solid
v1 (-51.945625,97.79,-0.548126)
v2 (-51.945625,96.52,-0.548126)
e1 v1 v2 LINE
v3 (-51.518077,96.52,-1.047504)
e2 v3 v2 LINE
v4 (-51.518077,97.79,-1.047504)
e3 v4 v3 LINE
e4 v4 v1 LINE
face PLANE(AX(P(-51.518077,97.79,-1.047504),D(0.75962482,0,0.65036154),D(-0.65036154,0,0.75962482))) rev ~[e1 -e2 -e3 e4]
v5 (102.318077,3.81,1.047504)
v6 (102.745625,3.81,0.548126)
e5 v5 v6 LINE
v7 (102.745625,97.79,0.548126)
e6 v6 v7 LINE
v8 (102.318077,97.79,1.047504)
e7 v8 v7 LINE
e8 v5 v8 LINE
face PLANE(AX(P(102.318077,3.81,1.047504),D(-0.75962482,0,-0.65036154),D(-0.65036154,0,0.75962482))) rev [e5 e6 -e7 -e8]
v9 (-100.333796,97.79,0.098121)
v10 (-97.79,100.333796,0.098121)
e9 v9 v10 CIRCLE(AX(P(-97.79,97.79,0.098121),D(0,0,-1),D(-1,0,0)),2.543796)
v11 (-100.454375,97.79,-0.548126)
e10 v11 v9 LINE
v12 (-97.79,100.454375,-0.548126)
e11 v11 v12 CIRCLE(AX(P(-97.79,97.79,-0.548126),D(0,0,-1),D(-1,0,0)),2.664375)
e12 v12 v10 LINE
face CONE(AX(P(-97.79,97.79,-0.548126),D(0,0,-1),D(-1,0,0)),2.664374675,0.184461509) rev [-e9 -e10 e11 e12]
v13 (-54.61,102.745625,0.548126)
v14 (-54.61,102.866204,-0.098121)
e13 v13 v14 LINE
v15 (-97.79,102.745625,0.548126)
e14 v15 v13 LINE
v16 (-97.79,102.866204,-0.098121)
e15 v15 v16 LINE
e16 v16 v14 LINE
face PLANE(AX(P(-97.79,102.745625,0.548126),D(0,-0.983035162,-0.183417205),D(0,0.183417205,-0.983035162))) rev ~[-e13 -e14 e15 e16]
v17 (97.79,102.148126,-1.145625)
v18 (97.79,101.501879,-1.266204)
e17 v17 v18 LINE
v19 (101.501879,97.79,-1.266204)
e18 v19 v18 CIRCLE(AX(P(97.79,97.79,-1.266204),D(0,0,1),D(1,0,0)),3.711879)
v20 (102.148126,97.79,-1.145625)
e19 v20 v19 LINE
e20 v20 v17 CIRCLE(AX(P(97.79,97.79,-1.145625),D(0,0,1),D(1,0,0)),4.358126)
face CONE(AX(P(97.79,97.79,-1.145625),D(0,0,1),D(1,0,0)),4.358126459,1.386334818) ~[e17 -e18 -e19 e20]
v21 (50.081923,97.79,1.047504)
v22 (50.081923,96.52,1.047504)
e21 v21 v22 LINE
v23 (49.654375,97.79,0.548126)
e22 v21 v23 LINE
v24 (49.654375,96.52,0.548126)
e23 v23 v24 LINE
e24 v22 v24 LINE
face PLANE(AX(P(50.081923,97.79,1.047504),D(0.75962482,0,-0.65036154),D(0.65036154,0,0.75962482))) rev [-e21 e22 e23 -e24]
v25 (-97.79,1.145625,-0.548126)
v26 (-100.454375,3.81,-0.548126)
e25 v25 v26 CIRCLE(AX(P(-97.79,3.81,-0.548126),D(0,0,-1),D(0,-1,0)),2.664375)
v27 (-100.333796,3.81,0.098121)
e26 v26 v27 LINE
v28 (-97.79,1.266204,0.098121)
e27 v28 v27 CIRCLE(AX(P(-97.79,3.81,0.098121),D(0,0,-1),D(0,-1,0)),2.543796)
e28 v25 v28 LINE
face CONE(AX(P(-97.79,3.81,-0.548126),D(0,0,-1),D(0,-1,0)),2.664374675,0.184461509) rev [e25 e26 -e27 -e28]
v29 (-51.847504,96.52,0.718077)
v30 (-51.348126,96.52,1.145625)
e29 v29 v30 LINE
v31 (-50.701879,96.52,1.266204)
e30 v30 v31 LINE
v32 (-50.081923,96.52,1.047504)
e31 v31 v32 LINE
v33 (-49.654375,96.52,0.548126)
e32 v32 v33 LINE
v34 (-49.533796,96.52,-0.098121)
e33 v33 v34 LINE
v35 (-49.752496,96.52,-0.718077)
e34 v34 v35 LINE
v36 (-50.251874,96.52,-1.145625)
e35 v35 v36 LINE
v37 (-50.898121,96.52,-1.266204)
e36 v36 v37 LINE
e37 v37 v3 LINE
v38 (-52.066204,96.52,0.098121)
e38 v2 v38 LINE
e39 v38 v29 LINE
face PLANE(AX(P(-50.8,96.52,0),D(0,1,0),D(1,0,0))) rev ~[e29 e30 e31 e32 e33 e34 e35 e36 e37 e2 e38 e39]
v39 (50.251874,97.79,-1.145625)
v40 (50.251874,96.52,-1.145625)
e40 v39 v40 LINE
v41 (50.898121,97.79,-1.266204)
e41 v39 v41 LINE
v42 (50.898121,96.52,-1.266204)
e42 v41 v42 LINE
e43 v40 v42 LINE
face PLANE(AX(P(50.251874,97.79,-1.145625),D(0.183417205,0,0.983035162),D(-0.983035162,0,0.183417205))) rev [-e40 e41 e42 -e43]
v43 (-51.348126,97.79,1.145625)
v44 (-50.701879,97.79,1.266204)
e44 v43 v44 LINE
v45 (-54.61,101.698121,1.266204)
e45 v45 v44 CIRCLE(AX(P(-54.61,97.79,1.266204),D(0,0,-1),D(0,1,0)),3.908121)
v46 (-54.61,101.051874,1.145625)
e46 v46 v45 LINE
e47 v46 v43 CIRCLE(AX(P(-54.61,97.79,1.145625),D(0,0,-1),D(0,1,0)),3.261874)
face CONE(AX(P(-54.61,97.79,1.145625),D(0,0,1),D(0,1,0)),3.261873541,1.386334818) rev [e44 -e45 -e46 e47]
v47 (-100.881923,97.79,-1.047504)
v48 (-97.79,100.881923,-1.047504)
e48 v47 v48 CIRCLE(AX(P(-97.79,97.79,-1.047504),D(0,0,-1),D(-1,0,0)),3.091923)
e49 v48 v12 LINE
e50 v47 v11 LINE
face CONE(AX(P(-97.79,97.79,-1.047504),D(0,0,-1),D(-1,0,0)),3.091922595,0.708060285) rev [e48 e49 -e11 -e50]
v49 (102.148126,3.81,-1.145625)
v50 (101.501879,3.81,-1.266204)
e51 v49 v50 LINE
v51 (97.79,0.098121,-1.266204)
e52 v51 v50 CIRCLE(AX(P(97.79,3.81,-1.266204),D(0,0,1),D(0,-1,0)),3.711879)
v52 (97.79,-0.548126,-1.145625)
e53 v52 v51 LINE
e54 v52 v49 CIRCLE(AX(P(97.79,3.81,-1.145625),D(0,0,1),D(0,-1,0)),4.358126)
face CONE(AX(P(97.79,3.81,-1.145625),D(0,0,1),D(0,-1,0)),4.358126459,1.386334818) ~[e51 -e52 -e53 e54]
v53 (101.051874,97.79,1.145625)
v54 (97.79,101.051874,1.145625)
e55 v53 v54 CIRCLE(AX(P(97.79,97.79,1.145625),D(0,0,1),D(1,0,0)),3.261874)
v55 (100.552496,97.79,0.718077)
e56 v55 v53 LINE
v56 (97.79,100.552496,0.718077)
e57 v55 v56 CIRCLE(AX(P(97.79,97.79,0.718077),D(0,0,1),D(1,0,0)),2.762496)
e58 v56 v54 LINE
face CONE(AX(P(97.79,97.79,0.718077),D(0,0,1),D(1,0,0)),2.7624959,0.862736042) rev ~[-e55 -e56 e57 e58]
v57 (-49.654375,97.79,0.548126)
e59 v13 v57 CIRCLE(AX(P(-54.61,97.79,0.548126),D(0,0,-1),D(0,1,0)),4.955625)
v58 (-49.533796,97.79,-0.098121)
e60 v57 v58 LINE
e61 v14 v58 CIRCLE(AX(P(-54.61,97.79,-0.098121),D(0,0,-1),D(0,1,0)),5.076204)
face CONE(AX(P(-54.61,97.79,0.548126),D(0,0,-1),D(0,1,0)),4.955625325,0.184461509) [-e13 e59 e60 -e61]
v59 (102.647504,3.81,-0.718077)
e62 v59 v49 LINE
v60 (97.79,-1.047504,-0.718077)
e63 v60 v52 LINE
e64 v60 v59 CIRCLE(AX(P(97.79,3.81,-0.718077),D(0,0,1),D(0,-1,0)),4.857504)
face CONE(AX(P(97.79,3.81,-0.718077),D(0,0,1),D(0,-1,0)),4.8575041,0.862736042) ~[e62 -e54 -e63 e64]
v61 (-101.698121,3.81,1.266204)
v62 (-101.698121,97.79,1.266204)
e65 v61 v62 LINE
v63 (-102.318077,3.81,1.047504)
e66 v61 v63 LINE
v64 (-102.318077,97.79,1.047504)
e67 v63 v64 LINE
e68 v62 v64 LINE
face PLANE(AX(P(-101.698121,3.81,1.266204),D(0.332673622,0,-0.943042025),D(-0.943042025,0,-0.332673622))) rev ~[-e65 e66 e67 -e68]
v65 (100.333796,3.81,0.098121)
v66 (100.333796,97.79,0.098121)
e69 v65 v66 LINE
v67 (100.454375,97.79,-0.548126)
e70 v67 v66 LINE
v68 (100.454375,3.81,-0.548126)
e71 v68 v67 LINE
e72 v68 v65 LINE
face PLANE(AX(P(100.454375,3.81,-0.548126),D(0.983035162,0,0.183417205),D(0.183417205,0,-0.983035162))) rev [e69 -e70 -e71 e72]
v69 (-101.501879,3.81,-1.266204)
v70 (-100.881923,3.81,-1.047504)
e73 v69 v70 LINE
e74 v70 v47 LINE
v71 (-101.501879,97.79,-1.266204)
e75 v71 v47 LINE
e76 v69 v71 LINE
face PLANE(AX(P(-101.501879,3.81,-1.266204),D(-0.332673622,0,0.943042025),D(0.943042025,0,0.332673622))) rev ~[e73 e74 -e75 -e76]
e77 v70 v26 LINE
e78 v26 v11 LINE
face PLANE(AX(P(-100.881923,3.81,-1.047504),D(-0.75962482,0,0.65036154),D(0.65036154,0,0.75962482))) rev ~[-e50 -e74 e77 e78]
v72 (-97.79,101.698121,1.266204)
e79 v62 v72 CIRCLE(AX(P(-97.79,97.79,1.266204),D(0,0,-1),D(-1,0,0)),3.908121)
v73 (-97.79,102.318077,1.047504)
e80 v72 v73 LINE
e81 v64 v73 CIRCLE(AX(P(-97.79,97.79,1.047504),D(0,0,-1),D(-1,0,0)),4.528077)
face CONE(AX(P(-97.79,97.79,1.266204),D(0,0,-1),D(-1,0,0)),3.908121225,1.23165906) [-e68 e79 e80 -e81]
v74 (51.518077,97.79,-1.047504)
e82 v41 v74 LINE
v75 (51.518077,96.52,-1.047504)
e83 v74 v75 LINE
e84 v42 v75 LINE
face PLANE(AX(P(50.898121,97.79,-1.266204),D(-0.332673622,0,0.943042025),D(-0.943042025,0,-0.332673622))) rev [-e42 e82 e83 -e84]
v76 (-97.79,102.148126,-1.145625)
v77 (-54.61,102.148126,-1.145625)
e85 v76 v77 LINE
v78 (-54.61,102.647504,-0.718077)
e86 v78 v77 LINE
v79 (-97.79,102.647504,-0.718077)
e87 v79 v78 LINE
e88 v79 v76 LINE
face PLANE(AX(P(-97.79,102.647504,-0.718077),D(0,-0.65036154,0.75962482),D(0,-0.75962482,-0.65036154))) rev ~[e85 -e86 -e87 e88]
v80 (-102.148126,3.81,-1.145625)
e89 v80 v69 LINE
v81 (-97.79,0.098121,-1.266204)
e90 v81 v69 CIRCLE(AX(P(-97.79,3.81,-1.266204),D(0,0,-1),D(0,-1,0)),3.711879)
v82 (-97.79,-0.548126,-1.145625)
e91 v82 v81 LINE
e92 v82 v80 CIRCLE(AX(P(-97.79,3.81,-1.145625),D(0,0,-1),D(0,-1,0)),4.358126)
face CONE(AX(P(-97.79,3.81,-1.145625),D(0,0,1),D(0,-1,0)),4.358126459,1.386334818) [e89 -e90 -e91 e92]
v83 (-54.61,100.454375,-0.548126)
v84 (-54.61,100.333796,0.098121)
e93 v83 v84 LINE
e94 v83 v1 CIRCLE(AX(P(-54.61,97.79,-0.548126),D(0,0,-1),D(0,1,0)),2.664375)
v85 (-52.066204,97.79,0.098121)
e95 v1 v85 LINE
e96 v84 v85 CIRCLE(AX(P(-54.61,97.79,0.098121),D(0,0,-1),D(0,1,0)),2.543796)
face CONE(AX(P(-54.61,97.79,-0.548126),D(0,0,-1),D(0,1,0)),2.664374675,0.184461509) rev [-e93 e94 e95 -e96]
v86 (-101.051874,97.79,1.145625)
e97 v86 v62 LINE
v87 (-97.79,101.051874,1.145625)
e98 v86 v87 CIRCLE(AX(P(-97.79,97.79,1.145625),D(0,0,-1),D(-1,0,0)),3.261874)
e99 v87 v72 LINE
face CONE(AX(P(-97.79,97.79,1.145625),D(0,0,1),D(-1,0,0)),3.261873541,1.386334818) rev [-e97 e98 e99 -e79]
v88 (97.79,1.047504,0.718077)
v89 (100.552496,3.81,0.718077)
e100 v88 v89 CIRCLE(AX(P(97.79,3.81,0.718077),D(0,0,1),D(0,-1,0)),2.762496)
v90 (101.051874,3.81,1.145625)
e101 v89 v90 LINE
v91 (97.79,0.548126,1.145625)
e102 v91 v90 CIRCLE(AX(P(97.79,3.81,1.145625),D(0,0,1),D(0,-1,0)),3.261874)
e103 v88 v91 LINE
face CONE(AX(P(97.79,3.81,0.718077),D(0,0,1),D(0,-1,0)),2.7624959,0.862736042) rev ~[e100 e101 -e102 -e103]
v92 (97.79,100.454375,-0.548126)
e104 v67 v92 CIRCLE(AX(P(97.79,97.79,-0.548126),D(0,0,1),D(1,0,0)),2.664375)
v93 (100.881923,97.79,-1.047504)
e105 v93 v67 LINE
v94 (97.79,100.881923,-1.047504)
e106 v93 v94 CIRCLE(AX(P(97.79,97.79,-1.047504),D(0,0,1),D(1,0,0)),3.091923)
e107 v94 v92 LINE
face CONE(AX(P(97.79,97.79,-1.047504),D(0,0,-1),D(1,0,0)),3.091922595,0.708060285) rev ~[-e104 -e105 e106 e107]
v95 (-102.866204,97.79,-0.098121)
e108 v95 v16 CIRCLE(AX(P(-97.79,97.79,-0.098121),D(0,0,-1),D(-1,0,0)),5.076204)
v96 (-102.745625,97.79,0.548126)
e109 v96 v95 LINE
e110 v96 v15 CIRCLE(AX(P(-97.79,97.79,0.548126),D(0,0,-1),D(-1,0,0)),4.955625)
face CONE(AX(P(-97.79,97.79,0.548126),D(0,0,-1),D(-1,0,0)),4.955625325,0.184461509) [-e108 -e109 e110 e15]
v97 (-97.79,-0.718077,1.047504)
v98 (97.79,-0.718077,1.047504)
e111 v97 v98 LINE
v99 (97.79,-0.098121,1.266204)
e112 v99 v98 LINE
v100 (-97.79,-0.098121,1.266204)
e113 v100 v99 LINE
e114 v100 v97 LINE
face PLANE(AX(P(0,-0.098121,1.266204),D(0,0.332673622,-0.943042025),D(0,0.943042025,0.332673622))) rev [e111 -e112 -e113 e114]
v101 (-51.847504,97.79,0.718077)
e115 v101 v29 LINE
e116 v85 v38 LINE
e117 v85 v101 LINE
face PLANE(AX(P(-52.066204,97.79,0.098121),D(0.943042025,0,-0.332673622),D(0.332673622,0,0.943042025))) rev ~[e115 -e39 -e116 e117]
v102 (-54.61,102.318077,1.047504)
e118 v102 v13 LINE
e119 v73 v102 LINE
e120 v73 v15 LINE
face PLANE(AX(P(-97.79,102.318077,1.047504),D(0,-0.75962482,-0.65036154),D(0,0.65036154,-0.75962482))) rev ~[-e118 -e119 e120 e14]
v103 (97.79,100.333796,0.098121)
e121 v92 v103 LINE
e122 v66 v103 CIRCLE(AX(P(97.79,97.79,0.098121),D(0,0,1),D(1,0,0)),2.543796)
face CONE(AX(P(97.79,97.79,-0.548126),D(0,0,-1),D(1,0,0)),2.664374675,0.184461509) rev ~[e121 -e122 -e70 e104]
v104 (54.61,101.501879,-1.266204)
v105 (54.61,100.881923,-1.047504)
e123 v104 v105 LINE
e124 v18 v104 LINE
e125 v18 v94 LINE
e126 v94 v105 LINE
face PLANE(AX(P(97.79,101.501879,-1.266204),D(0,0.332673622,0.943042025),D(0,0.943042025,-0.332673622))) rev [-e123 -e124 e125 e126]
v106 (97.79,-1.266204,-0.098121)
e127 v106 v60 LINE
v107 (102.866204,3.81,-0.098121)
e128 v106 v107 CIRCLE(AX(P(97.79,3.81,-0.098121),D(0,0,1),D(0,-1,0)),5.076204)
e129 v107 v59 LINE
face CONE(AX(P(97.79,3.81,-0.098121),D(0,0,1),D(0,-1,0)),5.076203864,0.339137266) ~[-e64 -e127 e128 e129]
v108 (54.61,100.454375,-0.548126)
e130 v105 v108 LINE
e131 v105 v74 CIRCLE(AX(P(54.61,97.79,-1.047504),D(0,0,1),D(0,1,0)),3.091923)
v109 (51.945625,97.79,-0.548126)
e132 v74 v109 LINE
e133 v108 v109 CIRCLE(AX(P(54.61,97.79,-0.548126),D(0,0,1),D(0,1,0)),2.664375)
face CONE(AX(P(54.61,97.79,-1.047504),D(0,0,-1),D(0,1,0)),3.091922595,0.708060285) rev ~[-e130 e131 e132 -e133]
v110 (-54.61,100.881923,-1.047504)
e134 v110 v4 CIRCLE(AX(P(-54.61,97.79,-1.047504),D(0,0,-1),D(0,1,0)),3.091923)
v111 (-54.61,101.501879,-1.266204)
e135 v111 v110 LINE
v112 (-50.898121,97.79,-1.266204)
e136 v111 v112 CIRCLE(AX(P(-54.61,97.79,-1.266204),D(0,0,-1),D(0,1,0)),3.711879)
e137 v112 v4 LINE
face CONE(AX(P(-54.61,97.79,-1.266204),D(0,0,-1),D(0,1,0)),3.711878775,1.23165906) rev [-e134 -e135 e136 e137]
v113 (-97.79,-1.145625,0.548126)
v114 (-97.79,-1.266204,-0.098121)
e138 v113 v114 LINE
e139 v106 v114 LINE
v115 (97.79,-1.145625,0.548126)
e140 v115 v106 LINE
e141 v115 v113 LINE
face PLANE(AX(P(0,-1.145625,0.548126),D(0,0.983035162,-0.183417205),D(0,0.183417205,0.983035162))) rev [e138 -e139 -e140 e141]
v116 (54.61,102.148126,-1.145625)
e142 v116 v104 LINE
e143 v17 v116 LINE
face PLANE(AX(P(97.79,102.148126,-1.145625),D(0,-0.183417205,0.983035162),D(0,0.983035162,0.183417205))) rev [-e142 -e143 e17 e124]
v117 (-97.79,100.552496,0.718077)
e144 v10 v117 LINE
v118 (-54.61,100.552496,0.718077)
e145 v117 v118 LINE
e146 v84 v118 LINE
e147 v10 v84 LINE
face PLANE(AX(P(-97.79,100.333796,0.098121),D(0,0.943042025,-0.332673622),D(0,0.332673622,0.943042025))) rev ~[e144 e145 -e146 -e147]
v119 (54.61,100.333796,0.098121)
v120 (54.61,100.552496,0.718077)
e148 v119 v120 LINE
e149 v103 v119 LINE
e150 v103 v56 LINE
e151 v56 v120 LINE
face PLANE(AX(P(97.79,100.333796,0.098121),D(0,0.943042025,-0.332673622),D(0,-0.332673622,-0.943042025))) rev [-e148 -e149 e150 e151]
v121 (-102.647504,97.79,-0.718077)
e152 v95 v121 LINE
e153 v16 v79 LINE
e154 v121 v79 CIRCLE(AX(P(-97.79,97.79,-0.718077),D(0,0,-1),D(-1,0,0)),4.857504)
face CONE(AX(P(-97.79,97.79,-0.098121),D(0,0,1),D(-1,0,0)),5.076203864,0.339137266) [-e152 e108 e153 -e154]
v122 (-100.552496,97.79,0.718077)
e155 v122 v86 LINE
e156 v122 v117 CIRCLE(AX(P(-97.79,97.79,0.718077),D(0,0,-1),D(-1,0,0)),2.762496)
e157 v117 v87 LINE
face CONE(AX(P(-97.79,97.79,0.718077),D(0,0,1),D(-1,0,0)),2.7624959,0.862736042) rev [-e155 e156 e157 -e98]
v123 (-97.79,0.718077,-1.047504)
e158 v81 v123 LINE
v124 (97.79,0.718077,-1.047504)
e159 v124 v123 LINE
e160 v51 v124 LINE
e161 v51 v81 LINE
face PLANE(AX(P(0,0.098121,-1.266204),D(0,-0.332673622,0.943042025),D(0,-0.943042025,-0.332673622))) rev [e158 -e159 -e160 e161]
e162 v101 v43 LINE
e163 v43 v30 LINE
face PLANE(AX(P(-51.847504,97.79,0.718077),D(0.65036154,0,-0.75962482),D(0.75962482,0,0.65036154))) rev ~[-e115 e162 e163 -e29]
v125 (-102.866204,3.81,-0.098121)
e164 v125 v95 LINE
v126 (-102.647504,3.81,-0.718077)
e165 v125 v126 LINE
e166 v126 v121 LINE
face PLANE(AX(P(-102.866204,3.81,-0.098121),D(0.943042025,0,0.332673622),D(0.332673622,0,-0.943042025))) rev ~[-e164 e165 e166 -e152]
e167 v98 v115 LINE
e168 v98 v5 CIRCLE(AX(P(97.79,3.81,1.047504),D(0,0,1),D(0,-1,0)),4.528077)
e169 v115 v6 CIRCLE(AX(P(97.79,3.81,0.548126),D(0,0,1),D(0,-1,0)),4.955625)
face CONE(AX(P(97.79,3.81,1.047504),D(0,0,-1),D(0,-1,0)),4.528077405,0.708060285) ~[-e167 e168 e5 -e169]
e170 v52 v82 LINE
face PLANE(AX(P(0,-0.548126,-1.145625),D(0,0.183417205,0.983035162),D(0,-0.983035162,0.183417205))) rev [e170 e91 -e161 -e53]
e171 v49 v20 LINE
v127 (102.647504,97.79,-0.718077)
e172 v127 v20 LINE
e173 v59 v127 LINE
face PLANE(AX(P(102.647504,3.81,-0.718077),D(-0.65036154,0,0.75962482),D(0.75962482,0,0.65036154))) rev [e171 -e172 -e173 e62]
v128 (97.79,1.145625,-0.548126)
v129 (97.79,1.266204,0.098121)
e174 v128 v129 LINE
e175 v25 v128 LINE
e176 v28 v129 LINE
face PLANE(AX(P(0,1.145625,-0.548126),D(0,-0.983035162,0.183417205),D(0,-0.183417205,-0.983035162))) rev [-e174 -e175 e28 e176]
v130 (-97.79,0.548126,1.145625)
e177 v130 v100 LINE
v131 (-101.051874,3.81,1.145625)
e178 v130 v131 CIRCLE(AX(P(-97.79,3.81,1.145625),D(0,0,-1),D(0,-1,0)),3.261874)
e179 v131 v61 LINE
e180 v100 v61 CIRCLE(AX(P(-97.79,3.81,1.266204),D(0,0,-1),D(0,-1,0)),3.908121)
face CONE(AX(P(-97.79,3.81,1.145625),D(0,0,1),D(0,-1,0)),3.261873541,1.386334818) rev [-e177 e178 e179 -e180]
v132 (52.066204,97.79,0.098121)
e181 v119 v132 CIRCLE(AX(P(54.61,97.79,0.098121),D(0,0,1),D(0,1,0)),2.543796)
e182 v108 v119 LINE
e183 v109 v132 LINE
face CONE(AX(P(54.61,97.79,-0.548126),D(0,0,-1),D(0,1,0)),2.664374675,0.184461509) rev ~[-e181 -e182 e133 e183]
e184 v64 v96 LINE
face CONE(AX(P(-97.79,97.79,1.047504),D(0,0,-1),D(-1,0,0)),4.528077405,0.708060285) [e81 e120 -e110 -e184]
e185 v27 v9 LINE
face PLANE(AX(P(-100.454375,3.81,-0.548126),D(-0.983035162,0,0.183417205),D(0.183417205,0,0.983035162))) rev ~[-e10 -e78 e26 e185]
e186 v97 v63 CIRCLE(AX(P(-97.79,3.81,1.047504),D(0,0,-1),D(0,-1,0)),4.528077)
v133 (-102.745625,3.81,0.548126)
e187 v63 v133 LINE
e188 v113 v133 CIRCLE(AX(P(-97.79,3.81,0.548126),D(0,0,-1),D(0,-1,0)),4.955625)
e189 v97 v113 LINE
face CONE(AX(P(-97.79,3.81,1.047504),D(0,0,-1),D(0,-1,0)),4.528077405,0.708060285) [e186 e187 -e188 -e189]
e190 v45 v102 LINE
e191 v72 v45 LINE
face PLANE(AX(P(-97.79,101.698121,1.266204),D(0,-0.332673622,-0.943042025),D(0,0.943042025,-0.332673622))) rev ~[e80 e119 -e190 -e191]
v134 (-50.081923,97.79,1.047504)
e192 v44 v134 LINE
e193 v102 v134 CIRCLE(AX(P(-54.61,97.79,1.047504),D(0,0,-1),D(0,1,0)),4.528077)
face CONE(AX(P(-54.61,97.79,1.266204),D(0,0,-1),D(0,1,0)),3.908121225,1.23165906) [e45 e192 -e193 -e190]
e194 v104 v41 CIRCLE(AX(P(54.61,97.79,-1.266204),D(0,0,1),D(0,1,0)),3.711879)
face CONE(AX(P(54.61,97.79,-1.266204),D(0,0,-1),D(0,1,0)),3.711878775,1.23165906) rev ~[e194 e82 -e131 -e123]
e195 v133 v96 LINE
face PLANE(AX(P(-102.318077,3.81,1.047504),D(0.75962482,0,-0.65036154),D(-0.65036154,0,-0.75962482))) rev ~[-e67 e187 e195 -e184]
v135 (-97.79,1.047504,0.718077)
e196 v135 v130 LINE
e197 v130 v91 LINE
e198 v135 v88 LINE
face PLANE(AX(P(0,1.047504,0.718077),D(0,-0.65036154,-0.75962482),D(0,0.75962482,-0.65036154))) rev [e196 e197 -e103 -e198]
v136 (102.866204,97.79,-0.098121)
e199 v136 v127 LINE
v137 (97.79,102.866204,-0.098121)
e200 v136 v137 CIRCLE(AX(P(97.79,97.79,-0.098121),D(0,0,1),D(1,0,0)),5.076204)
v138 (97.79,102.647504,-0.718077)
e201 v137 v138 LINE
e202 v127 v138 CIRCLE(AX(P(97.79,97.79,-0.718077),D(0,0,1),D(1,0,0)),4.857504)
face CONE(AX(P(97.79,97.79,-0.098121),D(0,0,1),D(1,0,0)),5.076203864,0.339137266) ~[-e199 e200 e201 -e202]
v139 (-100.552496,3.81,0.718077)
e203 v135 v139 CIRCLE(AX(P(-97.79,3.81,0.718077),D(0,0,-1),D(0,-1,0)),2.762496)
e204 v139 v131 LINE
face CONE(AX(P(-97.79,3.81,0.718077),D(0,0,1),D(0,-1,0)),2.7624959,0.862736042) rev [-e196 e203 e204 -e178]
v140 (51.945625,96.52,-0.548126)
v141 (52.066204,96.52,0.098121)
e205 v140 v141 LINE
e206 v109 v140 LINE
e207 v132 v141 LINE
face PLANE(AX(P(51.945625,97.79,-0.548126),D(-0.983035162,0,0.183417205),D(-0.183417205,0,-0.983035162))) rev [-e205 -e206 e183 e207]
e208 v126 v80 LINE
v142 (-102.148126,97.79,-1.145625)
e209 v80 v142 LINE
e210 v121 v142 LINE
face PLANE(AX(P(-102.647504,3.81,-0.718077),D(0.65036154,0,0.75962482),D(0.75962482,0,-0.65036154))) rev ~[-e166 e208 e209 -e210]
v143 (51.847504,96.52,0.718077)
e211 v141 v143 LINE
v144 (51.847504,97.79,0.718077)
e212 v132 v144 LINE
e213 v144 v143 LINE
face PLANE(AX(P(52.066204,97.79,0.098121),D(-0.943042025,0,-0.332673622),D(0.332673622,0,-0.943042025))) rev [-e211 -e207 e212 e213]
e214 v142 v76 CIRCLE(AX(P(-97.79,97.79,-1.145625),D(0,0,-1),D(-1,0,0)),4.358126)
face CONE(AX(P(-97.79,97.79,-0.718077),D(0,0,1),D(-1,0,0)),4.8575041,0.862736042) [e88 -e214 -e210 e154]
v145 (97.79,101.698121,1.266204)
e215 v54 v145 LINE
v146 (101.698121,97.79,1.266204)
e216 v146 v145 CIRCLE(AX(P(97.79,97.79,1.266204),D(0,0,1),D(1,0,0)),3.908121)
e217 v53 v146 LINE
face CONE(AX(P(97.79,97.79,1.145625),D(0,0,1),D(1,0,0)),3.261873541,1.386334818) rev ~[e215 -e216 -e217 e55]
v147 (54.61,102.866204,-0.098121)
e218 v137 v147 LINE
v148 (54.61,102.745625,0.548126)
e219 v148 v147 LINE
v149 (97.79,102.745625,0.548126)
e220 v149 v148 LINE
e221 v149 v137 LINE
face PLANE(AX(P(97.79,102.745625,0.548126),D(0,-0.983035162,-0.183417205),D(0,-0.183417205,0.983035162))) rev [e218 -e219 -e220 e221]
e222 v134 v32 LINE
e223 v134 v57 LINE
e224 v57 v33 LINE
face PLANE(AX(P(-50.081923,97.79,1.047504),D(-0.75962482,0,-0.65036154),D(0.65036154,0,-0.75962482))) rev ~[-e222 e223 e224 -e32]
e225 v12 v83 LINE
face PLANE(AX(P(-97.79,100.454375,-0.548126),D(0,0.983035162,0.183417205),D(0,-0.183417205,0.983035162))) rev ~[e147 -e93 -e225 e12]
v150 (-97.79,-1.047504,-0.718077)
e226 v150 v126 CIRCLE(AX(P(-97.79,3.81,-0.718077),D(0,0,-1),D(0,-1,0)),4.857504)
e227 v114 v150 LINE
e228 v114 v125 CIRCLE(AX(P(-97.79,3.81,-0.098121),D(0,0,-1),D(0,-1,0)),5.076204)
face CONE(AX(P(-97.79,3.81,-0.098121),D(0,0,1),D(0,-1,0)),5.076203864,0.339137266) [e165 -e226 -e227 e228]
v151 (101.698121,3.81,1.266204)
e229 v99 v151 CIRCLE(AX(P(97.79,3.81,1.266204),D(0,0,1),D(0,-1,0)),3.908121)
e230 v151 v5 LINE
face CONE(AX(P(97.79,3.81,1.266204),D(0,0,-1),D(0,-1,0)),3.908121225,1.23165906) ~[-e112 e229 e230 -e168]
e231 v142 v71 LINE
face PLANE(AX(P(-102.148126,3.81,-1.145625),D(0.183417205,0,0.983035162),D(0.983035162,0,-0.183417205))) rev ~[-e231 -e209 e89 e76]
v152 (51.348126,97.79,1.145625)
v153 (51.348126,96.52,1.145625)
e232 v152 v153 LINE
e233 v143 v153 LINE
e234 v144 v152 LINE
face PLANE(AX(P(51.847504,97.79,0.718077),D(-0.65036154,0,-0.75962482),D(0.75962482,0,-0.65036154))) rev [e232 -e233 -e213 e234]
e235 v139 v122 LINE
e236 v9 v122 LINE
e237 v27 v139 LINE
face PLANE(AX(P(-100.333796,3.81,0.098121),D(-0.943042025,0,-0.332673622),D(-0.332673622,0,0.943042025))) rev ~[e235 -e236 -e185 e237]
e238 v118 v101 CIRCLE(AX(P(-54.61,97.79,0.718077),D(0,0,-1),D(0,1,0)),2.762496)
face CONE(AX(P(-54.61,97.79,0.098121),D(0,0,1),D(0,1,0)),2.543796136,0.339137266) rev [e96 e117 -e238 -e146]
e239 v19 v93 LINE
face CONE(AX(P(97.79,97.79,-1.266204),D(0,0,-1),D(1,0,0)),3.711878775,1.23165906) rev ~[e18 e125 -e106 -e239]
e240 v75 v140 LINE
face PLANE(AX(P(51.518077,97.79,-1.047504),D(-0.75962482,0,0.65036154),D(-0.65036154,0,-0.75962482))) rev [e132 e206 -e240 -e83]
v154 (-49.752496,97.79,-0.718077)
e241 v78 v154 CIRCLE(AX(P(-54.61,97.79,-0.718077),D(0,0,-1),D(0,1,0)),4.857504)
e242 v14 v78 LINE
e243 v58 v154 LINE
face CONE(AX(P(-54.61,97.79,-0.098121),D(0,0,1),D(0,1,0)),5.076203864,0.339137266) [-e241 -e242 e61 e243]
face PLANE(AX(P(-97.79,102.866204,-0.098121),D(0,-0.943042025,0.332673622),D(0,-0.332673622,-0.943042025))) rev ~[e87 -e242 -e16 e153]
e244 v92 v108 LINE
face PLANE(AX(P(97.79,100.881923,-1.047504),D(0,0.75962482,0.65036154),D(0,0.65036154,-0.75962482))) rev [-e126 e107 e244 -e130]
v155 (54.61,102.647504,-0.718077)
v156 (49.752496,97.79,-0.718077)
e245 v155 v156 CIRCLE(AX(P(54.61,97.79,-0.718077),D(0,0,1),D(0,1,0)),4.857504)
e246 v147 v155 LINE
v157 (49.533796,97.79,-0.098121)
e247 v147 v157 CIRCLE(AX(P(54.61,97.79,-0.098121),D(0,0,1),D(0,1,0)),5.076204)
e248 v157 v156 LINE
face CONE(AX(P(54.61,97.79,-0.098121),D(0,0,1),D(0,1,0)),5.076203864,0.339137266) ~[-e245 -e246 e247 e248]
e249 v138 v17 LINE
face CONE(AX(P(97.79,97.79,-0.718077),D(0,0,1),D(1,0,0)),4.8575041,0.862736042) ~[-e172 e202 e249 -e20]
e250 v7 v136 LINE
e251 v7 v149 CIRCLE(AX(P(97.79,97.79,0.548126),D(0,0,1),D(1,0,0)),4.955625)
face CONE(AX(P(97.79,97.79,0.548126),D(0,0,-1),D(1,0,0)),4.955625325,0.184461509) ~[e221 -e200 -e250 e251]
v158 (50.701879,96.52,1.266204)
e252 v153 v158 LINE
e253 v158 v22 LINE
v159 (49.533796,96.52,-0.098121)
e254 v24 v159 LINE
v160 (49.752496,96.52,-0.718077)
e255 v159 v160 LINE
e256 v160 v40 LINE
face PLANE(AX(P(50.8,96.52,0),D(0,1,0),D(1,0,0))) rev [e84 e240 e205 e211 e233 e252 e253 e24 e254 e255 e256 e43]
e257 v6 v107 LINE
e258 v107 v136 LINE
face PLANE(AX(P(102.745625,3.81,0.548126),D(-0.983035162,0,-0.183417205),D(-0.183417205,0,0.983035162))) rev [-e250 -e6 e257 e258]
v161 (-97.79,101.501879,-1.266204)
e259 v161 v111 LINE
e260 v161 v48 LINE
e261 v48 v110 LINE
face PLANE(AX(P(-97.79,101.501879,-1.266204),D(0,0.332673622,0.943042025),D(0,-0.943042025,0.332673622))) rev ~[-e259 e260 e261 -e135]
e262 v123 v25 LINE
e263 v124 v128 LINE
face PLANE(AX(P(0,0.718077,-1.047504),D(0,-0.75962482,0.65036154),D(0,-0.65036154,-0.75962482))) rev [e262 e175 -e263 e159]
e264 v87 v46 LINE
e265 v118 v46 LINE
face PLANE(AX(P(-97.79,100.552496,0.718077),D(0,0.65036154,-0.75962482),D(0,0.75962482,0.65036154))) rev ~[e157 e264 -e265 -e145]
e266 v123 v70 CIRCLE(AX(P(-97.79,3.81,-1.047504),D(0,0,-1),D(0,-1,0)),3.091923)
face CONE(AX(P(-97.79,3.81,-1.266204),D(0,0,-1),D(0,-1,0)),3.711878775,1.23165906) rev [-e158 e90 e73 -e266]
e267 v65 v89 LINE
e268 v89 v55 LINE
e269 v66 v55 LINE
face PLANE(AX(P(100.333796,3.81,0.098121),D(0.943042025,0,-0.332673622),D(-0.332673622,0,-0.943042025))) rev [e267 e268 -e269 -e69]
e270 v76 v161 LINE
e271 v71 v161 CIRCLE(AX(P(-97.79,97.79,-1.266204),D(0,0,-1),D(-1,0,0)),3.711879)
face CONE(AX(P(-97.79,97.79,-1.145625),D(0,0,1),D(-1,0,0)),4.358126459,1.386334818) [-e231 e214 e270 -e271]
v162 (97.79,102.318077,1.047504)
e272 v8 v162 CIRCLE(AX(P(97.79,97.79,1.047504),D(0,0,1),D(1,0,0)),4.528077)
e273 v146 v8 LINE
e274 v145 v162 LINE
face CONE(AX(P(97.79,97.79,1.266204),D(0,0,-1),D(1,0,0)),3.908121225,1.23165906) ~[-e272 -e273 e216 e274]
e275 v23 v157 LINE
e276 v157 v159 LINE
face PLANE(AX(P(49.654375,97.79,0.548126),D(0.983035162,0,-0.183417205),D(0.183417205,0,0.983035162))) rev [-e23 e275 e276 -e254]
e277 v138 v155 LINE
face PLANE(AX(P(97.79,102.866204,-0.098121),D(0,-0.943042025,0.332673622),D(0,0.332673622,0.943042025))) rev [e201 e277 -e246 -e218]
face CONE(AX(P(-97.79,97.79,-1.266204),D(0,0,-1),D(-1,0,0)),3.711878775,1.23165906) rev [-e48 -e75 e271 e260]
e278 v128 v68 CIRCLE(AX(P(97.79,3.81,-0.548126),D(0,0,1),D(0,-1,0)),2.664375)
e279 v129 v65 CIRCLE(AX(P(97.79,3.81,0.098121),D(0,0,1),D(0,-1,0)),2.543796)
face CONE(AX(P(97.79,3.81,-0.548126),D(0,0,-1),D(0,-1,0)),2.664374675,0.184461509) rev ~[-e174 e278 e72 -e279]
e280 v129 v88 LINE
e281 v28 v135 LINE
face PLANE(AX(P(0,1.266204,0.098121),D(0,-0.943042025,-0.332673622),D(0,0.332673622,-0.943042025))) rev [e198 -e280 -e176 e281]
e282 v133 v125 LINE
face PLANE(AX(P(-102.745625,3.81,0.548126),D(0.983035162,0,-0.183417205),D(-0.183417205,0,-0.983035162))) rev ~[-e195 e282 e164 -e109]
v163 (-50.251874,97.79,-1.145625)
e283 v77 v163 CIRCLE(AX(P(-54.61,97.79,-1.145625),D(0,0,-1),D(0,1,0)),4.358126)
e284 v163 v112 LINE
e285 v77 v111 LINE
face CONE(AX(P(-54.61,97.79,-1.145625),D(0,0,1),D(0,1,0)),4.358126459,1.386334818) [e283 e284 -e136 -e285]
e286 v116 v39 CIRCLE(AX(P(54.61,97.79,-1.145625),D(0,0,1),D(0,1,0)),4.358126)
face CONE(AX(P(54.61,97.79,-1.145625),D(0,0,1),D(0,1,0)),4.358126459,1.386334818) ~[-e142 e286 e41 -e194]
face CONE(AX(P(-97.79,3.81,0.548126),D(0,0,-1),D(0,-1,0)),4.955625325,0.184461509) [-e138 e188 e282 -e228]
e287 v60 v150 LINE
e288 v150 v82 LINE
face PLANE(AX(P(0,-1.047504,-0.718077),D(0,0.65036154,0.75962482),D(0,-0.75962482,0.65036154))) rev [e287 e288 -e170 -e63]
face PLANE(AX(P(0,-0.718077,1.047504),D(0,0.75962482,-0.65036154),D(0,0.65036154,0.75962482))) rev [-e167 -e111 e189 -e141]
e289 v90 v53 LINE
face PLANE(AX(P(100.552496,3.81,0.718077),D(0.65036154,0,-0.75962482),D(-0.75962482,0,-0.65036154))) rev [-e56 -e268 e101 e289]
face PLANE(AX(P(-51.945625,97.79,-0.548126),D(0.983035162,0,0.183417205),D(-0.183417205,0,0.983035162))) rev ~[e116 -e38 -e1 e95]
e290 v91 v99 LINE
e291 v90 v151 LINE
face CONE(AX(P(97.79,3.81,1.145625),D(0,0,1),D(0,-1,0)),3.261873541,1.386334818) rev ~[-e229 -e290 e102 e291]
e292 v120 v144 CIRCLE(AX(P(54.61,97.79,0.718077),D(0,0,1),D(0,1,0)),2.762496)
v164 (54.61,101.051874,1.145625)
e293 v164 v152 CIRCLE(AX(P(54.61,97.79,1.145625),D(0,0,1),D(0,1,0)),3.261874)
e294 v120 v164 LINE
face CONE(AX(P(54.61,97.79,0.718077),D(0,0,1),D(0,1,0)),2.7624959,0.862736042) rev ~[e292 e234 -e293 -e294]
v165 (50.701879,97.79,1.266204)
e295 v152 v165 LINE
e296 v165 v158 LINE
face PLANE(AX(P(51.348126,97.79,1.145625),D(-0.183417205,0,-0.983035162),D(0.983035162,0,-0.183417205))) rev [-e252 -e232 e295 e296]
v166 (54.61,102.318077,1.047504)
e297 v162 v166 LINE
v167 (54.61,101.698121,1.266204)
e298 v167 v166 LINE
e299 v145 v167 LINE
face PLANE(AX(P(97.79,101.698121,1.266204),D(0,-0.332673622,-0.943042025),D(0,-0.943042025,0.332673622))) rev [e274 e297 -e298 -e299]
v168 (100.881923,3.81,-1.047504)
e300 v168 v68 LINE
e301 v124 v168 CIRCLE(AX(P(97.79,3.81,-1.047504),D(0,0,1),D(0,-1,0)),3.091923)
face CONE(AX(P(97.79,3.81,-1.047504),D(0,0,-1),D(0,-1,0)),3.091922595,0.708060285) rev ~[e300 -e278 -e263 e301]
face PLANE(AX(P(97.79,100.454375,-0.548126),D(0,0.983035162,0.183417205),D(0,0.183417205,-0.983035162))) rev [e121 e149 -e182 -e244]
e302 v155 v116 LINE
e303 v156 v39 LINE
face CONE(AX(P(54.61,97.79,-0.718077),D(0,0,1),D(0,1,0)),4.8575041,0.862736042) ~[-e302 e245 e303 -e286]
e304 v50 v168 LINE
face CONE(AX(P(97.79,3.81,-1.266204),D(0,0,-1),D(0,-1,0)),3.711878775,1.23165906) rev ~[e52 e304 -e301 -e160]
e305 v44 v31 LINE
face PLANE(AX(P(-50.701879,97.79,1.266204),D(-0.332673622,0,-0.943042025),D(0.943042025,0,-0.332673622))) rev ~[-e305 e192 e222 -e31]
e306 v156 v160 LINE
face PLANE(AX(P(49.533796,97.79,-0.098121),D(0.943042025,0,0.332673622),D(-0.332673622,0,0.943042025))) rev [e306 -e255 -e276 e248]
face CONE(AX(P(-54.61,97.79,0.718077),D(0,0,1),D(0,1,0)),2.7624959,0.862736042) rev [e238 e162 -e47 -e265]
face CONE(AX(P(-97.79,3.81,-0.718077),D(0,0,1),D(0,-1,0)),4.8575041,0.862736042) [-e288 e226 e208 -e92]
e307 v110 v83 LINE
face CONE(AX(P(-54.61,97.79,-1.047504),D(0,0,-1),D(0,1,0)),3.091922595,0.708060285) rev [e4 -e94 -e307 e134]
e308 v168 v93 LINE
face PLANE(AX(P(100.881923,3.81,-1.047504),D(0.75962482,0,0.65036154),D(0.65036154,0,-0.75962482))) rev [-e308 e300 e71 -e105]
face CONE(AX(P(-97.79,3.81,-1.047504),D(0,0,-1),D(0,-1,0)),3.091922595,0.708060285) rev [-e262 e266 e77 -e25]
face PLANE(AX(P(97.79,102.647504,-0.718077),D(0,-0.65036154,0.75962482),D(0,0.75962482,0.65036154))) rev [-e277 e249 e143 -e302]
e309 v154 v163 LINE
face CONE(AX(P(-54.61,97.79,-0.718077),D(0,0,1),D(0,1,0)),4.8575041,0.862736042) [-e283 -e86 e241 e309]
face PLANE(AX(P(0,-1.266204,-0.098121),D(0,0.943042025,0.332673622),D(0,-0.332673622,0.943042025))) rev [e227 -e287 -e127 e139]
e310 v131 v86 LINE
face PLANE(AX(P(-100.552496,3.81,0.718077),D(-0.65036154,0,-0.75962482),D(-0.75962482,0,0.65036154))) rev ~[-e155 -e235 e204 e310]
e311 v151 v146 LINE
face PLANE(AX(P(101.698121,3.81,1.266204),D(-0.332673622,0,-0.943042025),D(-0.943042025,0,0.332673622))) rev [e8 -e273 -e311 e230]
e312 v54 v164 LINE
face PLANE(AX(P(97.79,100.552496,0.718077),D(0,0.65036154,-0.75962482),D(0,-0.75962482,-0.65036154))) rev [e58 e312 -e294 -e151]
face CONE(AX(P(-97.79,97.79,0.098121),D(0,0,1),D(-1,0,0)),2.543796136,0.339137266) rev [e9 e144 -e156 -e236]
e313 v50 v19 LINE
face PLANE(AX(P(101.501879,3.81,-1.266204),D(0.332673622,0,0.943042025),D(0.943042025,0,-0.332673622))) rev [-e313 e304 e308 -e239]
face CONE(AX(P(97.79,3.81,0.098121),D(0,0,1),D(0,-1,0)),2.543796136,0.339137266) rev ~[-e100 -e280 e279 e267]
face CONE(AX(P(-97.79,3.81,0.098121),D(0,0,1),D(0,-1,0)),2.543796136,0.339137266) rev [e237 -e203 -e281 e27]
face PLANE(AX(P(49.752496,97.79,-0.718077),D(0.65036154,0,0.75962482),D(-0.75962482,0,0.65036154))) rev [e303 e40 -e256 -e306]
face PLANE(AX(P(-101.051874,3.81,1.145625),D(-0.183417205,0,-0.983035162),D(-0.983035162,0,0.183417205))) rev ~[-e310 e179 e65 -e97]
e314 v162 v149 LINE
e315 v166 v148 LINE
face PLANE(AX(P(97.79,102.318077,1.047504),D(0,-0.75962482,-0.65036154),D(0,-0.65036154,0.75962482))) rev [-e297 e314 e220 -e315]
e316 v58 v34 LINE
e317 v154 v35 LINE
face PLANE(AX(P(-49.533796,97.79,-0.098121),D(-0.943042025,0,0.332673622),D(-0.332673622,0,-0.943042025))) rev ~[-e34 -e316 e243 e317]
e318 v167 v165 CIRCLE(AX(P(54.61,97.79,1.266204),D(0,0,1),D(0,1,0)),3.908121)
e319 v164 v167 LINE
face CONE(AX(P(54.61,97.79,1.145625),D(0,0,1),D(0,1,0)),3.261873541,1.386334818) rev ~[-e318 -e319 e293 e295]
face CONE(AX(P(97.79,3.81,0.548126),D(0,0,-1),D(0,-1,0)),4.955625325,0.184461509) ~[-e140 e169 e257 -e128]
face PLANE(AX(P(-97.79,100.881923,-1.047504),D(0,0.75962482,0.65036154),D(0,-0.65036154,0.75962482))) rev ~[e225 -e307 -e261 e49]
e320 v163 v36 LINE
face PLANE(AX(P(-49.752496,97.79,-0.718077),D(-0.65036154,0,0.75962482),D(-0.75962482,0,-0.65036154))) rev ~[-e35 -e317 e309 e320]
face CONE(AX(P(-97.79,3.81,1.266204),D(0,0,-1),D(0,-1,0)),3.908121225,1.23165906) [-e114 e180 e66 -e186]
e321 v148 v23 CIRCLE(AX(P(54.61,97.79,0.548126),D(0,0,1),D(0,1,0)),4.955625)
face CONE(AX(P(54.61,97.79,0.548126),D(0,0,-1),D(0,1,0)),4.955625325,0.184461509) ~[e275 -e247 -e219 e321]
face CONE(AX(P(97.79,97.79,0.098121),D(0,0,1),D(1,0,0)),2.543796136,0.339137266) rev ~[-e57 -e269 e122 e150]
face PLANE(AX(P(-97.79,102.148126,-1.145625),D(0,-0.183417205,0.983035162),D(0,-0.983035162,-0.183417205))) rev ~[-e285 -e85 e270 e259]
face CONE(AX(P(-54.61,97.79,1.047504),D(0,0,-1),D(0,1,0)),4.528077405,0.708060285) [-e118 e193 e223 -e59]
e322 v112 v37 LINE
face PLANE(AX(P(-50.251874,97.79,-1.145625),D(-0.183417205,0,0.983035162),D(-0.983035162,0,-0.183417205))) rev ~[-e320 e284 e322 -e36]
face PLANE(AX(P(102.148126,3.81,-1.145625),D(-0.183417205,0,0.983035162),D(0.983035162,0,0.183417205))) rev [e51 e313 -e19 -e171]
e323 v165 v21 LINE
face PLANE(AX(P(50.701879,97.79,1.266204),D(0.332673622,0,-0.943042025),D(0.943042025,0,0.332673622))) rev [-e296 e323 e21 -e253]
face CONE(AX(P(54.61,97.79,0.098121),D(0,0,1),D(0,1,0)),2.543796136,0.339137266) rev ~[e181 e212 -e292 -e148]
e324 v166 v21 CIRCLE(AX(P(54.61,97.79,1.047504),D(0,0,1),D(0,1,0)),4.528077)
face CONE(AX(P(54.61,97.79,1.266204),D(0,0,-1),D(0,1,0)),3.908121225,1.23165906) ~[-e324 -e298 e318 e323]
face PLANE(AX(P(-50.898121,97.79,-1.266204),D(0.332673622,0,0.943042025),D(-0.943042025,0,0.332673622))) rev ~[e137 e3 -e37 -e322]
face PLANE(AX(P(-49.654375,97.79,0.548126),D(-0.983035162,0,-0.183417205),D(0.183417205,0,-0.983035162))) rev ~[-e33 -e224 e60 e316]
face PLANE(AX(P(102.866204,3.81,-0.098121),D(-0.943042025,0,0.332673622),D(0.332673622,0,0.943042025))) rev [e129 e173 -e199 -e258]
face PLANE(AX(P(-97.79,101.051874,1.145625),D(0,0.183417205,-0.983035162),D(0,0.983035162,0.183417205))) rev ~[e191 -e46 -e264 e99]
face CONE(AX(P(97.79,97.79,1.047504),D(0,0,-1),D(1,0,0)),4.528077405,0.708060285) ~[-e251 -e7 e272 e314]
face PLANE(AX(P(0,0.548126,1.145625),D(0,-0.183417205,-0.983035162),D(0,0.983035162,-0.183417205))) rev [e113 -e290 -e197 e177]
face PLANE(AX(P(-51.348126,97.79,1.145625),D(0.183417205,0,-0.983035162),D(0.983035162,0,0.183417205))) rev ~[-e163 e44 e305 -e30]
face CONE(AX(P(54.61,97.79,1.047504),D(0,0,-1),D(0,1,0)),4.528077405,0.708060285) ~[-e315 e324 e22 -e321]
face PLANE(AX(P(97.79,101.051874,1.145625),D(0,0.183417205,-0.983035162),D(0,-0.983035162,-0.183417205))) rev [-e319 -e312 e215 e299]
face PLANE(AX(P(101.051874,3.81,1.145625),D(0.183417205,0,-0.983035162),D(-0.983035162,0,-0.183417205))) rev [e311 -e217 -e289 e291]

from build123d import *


with BuildPart() as f2:
    # F2: sweep along a path in F0
    with BuildLine(Plane.XY) as f2_path:
        Line((0, 0), (-97.79, 0))
        ThreePointArc((-97.79, 0), (-100.4840768363, 1.1159231637), (-101.6, 3.81))
        Line((-101.6, 3.81), (-101.6, 97.79))
        ThreePointArc((-101.6, 97.79), (-100.4840768363, 100.4840768363), (-97.79, 101.6))
        Line((-97.79, 101.6), (-54.61, 101.6))
        ThreePointArc((-54.61, 101.6), (-51.9159231637, 100.4840768363), (-50.8, 97.79))
        Line((-50.8, 97.79), (-50.8, 96.52))
    # F1 (on Right) → F2 (sweep)
    with BuildSketch(Plane.YZ):
        Polygon((0.7180774052, -1.0475041003), (1.145625325, -0.5481264588), (1.266203864, 0.0981212247), (1.0475041003, 0.7180774052), (0.5481264588, 1.145625325), (-0.0981212247, 1.266203864), (-0.7180774052, 1.0475041003), (-1.145625325, 0.5481264588), (-1.266203864, -0.0981212247), (-1.0475041003, -0.7180774052), (-0.5481264588, -1.145625325), (0.0981212247, -1.266203864), align=None)
    sweep(path=f2_path.line)

    # F3: F2 across plane


with BuildPart() as f2_1:
    add(f2.part)
    add(f2.part.mirror(Plane.YZ))


solid = f2_1.part
